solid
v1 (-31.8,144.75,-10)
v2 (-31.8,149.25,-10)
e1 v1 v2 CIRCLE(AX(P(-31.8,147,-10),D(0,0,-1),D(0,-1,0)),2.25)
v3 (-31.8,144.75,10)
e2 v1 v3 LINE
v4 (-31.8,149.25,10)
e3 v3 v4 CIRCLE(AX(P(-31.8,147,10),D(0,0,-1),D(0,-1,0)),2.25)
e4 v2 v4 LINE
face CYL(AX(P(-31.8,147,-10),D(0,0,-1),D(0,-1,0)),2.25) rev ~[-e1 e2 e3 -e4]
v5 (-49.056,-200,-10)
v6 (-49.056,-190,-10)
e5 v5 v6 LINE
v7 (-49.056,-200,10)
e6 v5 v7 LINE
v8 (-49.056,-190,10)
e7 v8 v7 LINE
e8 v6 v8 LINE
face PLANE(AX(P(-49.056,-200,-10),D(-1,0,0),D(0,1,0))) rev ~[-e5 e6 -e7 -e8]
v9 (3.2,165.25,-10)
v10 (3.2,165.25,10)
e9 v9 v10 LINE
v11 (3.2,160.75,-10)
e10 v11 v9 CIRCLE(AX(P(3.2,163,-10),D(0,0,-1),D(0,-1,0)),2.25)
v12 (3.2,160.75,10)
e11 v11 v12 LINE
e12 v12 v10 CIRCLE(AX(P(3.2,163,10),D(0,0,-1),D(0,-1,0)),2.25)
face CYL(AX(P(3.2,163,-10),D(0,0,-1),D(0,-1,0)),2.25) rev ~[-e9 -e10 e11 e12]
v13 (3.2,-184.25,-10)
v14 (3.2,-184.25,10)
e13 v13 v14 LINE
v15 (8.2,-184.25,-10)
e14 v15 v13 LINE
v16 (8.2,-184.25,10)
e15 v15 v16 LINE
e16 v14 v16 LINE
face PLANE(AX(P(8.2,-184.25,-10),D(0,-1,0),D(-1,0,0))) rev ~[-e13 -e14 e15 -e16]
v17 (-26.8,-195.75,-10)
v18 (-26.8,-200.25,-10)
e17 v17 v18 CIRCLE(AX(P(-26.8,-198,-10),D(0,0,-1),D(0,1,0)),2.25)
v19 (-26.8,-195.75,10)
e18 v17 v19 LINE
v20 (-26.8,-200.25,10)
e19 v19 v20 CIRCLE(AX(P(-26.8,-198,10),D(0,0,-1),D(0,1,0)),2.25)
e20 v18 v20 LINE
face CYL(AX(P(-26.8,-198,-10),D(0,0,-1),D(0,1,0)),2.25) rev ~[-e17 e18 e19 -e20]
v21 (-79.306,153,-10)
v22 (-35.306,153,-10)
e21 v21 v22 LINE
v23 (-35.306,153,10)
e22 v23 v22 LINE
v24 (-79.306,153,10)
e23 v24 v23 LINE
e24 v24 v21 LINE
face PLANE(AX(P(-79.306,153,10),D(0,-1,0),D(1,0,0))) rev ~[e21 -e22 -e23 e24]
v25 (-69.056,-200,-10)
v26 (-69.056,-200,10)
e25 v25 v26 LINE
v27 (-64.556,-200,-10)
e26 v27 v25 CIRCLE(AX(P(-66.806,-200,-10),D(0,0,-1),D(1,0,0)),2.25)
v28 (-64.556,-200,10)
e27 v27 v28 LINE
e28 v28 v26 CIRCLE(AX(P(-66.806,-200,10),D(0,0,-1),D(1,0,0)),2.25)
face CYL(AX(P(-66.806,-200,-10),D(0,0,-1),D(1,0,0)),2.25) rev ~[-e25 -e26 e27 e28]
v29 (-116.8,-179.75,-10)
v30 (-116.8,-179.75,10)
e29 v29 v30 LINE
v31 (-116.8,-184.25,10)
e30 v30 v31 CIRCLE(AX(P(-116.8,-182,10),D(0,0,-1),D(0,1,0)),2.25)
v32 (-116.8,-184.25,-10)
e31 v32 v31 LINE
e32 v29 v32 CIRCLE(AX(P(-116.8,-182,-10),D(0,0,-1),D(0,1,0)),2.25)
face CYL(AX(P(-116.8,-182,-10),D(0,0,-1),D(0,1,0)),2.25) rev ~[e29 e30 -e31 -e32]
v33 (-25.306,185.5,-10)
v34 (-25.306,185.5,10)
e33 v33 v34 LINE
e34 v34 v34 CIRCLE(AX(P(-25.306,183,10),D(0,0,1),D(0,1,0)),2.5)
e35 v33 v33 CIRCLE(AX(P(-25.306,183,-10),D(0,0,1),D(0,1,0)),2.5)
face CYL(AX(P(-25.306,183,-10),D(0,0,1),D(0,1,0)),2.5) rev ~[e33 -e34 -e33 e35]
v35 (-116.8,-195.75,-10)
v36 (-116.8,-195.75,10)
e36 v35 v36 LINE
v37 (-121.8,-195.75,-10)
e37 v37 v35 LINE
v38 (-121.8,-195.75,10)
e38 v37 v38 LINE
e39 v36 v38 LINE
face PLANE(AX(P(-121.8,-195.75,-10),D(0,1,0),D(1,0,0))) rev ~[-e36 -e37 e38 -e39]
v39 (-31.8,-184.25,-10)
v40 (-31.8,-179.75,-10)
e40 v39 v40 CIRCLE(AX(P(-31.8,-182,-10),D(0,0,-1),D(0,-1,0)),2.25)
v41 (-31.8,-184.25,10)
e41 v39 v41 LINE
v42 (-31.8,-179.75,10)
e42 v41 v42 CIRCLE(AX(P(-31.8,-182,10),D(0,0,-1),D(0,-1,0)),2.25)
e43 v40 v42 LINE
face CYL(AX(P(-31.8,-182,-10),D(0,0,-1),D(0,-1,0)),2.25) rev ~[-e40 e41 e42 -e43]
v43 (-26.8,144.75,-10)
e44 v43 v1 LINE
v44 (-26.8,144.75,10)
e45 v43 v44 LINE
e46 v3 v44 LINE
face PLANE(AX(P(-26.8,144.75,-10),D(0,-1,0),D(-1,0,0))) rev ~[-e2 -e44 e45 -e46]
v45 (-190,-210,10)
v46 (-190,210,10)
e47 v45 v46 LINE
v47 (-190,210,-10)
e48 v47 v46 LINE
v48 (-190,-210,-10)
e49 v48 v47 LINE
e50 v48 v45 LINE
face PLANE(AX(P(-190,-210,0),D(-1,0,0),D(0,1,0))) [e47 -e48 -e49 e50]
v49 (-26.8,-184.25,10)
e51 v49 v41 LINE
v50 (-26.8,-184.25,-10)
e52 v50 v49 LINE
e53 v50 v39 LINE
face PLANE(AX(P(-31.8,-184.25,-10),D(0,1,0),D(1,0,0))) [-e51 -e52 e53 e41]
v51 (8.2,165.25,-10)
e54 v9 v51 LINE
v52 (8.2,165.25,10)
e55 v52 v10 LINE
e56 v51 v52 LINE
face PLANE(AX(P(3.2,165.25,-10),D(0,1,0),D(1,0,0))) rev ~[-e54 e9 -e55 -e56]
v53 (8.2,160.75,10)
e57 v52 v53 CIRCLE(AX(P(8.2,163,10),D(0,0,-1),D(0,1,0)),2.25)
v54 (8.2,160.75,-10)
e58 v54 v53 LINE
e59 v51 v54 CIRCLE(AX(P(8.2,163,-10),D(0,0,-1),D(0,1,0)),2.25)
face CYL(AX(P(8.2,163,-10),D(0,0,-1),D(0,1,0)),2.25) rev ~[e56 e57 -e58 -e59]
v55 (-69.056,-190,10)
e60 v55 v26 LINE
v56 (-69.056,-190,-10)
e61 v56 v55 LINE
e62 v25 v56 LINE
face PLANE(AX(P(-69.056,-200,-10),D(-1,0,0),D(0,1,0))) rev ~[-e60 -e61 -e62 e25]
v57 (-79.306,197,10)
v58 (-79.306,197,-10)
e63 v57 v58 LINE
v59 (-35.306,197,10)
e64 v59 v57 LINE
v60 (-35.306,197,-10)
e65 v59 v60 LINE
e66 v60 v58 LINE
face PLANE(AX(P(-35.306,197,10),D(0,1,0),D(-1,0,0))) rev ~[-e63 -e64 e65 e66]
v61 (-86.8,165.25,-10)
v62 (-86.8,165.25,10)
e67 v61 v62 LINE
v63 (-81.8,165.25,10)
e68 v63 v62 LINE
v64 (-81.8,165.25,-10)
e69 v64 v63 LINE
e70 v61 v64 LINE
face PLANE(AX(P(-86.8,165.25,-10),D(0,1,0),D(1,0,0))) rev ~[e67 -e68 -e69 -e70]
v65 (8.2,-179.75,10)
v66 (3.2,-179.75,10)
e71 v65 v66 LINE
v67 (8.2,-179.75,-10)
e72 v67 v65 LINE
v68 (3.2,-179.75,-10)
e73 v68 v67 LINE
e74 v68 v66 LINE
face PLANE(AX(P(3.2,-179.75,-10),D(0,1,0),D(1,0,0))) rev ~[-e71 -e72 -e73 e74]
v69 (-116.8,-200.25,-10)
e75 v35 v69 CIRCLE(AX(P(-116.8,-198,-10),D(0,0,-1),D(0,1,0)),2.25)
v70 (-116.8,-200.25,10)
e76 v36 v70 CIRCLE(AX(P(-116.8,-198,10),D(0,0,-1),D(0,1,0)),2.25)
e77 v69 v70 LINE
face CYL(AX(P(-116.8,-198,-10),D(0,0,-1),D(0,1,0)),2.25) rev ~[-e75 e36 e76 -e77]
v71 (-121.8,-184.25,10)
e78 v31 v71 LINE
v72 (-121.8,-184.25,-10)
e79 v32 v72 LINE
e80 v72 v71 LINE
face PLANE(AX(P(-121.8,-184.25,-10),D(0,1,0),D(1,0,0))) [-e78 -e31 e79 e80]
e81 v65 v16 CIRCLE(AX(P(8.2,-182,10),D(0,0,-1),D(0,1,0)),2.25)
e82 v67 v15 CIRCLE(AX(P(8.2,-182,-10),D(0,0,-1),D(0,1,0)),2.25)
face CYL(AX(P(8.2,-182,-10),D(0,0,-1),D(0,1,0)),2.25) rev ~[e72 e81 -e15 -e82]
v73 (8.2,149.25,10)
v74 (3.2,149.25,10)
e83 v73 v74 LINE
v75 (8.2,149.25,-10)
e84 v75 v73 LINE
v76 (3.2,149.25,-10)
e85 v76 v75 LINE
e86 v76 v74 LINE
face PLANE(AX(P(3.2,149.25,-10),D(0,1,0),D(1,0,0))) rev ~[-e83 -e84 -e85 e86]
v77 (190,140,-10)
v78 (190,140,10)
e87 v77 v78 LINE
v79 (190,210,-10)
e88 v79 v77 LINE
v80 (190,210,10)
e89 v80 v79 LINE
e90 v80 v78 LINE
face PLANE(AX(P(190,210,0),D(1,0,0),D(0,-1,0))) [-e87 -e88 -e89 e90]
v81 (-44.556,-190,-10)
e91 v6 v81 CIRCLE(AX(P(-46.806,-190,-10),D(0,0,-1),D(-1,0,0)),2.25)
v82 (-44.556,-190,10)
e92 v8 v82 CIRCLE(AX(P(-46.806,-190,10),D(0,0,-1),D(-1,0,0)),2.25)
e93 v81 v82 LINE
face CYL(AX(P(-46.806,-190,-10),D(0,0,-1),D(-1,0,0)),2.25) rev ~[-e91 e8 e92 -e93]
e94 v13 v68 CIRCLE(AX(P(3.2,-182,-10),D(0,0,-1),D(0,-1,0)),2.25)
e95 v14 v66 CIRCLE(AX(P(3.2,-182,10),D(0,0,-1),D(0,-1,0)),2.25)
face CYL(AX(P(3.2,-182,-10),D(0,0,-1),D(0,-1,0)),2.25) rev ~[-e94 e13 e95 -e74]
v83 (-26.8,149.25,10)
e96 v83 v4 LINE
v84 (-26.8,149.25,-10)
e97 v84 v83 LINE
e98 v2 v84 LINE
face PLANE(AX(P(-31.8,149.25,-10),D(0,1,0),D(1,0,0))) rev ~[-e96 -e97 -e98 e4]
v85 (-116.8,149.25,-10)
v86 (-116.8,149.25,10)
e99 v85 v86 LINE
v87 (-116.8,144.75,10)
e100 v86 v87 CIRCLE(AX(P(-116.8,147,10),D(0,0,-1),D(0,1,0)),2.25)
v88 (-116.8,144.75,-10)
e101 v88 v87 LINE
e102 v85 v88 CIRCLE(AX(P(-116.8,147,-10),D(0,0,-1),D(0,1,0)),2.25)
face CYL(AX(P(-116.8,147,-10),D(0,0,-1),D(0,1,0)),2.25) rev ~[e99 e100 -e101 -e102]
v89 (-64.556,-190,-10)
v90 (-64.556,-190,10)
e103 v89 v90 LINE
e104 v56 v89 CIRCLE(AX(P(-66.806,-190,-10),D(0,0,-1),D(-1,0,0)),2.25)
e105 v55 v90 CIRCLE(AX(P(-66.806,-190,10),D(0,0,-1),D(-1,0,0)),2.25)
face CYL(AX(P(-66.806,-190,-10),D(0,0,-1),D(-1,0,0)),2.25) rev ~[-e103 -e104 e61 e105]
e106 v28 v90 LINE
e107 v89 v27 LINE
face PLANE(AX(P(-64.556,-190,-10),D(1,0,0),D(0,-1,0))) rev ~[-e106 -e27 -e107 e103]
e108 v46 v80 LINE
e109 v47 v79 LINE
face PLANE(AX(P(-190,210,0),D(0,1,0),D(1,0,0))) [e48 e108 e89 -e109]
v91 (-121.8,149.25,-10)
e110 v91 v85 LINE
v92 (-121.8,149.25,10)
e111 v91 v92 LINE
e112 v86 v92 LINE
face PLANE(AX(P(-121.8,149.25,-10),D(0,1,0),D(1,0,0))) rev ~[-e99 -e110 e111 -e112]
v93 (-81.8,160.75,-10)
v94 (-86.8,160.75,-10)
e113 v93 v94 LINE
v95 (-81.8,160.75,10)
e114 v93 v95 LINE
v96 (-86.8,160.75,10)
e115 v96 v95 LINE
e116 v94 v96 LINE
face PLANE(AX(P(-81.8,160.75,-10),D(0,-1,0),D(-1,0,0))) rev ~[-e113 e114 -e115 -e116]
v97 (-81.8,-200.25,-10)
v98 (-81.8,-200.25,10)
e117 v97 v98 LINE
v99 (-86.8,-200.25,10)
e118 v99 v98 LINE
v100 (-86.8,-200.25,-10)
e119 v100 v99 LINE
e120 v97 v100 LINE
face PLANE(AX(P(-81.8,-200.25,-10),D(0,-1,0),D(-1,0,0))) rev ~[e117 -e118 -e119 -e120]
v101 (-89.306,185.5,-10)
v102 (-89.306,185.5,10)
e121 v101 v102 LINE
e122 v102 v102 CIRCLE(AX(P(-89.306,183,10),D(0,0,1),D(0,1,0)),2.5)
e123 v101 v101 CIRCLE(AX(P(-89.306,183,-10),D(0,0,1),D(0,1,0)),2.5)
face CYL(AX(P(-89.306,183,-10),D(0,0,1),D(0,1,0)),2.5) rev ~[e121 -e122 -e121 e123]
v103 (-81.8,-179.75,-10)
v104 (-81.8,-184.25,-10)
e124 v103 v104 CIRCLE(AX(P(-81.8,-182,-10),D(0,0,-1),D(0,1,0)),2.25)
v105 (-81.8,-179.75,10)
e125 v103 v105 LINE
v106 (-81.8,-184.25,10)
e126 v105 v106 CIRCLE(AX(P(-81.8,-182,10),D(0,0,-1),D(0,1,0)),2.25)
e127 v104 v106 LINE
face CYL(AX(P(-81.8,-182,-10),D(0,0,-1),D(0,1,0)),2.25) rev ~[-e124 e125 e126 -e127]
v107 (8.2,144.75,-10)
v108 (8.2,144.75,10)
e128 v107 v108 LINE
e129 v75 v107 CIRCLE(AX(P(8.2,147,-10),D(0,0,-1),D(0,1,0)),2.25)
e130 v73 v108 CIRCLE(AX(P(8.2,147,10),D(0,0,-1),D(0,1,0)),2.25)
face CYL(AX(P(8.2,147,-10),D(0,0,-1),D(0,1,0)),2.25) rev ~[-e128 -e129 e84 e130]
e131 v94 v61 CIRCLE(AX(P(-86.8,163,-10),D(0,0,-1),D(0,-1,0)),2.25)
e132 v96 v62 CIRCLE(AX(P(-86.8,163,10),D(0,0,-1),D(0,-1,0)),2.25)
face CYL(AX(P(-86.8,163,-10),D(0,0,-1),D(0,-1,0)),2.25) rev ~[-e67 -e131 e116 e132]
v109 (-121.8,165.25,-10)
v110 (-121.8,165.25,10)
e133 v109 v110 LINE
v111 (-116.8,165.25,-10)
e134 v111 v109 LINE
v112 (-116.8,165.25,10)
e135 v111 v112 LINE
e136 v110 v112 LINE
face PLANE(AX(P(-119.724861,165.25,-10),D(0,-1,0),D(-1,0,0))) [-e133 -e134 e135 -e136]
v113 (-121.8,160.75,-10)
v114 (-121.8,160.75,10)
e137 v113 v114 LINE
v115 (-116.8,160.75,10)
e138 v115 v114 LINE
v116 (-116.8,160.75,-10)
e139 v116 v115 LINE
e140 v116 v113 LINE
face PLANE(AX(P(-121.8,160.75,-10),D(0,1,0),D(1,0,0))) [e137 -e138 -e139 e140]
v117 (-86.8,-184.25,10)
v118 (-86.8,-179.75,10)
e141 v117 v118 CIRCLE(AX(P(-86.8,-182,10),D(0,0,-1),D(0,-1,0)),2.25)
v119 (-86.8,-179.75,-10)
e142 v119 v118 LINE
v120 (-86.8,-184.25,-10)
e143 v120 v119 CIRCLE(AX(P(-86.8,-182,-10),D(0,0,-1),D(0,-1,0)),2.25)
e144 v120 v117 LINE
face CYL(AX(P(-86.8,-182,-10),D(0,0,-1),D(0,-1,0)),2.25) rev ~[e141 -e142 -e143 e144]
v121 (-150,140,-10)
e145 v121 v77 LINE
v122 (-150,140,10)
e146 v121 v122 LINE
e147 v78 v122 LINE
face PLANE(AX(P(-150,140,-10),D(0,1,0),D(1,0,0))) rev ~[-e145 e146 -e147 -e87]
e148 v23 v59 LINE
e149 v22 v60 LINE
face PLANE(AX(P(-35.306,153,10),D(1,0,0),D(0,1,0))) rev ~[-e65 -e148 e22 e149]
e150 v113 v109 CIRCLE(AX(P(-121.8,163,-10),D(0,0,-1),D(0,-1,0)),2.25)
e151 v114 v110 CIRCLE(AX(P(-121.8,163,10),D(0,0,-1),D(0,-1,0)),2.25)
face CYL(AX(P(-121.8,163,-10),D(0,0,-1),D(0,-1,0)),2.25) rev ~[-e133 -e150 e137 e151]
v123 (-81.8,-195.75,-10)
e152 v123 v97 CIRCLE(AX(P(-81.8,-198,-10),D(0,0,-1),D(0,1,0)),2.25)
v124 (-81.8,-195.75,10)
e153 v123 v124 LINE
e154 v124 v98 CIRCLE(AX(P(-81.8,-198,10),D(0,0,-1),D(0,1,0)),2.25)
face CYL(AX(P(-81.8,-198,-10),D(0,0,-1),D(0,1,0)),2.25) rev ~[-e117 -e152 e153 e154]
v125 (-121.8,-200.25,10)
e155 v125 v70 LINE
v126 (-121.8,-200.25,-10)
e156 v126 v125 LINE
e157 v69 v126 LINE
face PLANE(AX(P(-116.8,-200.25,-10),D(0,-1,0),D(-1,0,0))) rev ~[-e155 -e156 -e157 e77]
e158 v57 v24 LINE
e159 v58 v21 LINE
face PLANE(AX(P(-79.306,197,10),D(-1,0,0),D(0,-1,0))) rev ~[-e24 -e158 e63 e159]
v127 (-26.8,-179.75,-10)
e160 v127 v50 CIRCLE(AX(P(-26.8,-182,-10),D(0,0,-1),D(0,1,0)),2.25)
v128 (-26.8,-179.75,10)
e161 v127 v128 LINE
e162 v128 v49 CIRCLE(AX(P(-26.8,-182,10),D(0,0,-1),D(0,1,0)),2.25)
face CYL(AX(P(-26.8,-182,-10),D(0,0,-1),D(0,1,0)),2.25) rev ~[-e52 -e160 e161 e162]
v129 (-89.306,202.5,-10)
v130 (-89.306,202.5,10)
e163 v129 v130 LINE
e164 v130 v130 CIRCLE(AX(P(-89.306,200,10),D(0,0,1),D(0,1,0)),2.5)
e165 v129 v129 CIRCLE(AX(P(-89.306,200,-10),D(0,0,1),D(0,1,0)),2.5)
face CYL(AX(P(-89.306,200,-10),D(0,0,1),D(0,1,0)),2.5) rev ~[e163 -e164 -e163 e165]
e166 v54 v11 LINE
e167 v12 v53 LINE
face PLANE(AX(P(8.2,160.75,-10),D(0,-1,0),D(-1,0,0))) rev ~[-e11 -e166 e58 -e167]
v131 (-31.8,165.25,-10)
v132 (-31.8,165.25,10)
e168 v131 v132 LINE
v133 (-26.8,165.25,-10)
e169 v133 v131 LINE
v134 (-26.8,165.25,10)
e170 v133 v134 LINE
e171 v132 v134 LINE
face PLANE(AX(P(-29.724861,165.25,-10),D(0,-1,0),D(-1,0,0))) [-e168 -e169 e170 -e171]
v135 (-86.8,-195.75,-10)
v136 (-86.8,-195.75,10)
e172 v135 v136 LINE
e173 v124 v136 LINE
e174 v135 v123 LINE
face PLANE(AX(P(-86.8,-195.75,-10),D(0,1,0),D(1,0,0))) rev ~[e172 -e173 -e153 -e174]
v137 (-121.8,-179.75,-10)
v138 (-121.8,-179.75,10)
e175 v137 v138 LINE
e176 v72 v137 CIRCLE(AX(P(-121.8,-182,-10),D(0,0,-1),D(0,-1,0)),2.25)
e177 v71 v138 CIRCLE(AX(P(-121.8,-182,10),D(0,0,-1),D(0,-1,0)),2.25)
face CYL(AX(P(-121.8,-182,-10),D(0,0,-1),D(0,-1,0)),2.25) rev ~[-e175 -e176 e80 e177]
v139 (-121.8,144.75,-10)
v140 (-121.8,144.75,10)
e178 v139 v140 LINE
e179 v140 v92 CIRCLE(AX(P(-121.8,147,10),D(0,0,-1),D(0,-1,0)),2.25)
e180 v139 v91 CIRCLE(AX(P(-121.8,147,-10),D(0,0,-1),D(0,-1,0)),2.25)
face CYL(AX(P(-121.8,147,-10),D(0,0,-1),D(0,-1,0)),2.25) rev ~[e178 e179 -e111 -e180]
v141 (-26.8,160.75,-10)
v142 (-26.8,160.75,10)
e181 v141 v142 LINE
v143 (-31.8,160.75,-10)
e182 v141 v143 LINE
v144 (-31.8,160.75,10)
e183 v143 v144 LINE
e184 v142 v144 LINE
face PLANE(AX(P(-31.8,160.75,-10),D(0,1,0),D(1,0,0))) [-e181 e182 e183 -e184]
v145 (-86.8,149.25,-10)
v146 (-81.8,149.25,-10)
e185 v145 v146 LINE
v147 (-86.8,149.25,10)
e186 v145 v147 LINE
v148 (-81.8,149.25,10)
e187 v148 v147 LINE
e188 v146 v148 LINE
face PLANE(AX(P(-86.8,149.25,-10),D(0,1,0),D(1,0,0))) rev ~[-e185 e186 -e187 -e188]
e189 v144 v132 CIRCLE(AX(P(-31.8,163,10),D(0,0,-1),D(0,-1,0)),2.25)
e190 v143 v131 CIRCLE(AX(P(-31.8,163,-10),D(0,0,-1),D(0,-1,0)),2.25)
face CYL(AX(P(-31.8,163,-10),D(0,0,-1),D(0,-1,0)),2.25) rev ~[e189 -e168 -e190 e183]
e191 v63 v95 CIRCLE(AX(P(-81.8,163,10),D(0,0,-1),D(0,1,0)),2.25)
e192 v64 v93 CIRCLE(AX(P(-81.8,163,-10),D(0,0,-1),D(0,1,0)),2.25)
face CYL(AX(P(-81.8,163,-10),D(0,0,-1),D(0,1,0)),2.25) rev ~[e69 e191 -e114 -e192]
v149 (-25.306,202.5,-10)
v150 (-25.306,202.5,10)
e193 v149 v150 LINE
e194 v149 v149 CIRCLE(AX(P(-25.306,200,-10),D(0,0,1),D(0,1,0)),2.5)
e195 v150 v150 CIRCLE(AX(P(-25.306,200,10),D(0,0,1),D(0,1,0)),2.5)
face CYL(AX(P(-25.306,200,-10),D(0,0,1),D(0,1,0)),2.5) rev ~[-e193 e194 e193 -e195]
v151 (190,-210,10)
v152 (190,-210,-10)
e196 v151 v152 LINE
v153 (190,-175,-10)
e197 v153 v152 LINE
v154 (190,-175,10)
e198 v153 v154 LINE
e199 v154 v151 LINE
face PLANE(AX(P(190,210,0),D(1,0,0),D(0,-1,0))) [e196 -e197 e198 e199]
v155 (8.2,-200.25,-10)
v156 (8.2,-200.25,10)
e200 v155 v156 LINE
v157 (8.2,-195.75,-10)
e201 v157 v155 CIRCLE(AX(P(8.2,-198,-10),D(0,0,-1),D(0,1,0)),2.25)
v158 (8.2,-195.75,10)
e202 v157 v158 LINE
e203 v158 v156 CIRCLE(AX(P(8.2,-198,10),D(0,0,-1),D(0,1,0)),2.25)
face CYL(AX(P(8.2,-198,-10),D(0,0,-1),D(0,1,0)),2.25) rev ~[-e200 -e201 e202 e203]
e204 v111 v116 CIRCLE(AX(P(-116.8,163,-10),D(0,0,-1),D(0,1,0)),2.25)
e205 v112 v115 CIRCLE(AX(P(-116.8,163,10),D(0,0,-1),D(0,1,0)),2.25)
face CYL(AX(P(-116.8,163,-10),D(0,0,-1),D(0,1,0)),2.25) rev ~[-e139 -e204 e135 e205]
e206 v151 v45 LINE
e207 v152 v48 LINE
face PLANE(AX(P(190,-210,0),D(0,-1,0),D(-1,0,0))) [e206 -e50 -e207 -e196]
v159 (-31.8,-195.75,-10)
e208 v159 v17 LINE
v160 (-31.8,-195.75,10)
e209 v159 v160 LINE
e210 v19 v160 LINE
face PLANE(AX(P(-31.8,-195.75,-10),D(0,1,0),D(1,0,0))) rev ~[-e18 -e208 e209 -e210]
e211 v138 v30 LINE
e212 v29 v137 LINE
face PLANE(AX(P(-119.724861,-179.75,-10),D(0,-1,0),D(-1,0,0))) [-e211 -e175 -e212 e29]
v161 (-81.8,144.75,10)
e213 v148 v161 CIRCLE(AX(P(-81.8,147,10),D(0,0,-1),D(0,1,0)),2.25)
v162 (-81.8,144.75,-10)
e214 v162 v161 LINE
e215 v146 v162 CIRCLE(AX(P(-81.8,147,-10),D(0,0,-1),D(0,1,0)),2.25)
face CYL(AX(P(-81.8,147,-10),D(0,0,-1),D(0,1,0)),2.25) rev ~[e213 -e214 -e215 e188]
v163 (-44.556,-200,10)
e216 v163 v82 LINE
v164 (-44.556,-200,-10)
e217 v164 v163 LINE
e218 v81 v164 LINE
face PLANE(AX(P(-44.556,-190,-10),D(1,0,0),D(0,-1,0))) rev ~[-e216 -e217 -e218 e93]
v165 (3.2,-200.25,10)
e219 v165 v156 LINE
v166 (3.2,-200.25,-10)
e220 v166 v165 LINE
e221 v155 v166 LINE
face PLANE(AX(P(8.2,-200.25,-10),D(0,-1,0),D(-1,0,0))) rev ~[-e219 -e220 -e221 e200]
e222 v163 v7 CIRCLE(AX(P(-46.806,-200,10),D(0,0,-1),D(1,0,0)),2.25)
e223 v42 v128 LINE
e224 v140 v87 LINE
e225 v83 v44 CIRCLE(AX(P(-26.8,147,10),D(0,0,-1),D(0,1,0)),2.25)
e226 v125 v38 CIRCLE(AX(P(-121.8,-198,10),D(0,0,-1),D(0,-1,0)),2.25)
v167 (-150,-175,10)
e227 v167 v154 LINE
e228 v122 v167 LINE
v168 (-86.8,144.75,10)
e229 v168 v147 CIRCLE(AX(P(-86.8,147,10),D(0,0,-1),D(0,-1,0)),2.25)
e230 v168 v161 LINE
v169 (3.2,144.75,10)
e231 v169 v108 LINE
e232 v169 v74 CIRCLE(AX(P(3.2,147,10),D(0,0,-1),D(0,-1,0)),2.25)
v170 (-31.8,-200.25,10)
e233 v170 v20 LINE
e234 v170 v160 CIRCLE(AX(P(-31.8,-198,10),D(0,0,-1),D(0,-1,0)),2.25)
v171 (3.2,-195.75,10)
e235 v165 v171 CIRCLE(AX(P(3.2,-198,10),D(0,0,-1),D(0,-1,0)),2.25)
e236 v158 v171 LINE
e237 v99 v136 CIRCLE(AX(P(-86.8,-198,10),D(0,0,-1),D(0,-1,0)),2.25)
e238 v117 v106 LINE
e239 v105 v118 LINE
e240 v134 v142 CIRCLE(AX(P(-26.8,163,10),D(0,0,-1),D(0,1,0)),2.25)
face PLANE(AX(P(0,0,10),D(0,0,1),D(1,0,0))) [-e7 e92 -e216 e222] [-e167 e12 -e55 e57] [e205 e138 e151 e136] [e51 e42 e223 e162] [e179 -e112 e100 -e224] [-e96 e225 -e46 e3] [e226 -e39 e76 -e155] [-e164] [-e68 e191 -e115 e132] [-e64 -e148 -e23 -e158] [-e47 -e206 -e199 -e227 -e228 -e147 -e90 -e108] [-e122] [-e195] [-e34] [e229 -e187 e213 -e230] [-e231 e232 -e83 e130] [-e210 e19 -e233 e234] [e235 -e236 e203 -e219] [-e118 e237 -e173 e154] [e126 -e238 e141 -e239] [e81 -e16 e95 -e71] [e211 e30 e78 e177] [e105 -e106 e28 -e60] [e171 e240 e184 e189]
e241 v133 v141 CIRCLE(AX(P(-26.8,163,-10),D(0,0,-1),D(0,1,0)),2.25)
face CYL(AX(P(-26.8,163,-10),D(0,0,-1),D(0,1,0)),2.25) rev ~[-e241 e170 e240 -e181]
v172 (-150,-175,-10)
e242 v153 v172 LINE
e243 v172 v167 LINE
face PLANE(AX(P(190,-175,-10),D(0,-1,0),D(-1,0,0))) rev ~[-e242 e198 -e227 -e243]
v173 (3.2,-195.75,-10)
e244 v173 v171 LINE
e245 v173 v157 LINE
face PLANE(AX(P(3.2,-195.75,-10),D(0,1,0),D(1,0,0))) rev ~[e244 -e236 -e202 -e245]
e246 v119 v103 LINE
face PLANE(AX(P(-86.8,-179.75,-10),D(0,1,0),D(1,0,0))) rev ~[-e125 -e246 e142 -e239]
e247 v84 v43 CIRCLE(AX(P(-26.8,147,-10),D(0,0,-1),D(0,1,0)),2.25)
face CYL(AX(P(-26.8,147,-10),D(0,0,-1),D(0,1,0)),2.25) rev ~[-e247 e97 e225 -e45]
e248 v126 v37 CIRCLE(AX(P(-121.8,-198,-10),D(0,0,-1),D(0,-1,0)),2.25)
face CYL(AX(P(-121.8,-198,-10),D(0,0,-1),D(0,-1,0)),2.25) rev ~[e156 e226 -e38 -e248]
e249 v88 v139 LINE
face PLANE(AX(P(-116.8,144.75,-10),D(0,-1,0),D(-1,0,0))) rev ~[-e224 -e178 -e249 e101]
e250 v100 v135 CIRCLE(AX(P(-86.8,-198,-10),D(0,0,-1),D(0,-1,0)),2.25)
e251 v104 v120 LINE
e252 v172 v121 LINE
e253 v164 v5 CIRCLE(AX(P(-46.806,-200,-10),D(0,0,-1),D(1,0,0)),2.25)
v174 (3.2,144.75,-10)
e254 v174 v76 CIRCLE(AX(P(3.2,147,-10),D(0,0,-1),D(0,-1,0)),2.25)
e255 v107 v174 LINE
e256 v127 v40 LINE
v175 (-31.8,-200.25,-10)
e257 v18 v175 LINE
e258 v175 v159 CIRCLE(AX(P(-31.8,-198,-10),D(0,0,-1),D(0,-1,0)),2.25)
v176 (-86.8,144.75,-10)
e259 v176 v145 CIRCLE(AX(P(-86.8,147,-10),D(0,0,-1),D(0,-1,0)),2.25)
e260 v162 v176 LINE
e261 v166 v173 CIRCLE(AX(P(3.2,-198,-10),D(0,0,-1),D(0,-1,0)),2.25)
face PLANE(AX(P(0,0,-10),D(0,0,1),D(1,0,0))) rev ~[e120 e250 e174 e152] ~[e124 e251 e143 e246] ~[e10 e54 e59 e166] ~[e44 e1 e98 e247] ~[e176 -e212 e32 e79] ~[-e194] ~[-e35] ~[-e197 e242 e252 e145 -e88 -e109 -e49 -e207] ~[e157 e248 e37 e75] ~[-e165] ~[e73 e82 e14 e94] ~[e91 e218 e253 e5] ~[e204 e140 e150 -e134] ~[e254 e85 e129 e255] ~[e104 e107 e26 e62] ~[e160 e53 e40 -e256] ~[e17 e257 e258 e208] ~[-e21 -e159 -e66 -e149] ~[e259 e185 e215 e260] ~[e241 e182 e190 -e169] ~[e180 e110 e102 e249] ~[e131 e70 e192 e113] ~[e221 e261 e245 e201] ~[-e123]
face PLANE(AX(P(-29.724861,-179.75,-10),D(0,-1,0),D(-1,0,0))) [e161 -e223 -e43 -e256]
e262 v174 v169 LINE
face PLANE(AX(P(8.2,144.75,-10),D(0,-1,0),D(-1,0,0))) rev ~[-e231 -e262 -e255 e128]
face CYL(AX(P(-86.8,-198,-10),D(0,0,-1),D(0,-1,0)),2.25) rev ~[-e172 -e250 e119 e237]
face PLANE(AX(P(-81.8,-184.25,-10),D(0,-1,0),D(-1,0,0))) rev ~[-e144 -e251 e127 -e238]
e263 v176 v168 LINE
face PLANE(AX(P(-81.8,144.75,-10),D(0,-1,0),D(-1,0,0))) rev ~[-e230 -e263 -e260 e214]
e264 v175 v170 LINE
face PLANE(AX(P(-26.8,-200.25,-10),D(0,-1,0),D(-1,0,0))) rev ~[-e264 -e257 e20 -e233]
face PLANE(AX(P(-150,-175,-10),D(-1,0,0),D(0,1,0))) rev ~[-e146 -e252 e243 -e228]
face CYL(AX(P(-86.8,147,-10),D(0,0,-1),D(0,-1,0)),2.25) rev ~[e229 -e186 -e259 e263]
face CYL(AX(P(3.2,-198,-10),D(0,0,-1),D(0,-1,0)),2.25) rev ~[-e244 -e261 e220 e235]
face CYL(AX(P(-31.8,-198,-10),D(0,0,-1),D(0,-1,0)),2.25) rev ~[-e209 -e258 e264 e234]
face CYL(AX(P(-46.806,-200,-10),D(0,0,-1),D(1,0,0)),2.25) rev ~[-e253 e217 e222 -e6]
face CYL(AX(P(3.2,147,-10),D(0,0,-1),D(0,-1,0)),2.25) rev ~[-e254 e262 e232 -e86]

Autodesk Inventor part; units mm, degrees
ref_plane "YZ Plane" through (0, 0, 0) normal (1, 0, 0) x (0, 1, 0)
ref_plane "XZ Plane" through (0, 0, 0) normal (0, 1, 0) x (-1, 0, 0)
ref_plane "XY Plane" through (0, 0, 0) normal (0, 0, 1) x (1, 0, 0)
sketch "Sketch1" plane through (0, 0, 0) normal (0, 0, 1) x (1, 0, 0)
  line L0 (-190, 210) -> (190, 210)
  line L1 (190, 210) -> (190, -210)
  line L2 (190, -210) -> (-190, -210)
  line L3 (-190, -210) -> (-190, 210)
  point P0 (0, 0)
  point P1 (0, 210)
  point P2 (-190, 0)
  dimension "d0" = 380
  dimension "d1" = 420
extrude "Extrusion1" add sketch "Sketch1" along normal mid plane 20
sketch "Sketch5" plane through (0, 0, -10) normal (0, 0, -1) x (-1, 0, 0)
  line L0 (150, 140) -> (-190, 140)
  line L1 (-190, 140) -> (-190, -175)
  line L2 (-190, -175) -> (150, -175)
  line L3 (150, -175) -> (150, 140)
  line L4 (190, 210) -> (-190, 210) projected
  line L5 (-190, -210) -> (190, -210) projected
  line L6 (190, -210) -> (190, 210) projected
  point P0 (0, 0)
  dimension "d24" = 70
  dimension "d25" = 35
  dimension "d26" = 40
extrude "Extrusion5" cut sketch "Sketch5" against normal through all
sketch "Sketch6" plane through (0, 0, -10) normal (0, 0, -1) x (-1, 0, 0)
  line L0 (66.806, -190) -> (66.806, -200) construction
  line L1 (64.556, -190) -> (64.556, -200)
  line L2 (69.056, -200) -> (69.056, -190)
  arc A0 (69.056, -190) -> (64.556, -190) centre (66.806, -190) ccw
  arc A1 (64.556, -200) -> (69.056, -200) centre (66.806, -200) ccw
  line L3 (-190, -210) -> (190, -210) projected
  line L4 (190, -210) -> (190, 210) projected
  line L5 (46.806, -190) -> (46.806, -200) construction
  line L6 (44.556, -190) -> (44.556, -200)
  line L7 (49.056, -200) -> (49.056, -190)
  arc A2 (49.056, -190) -> (44.556, -190) centre (46.806, -190) ccw
  arc A3 (44.556, -200) -> (49.056, -200) centre (46.806, -200) ccw
  point P0 (0, 0)
  point P1 (66.806, -195)
  point P2 (46.806, -195)
  dimension "d30" = 15
  dimension "d32" = 123.194
  dimension "d33" = 4.5
  dimension "d34" = 10
  dimension "d36" = 20
extrude "Extrusion6" cut sketch "Sketch6" against normal through all
sketch "Sketch8" plane through (0, 0, 10) normal (0, 0, 1) x (1, 0, 0)
  circle A0 centre (-57.306, 175) radius 2
  line L0 (-79.306, 153) -> (-35.306, 153)
  line L1 (-35.306, 153) -> (-35.306, 197)
  line L2 (-35.306, 197) -> (-79.306, 197)
  line L3 (-79.306, 197) -> (-79.306, 153)
  line L4 (-79.306, 153) -> (-35.306, 197) construction
  line L5 (-35.306, 153) -> (-79.306, 197) construction
  line L6 (190, 140) -> (190, 210) projected
  line L7 (-190, 210) -> (-190, -210) projected
  point P0 (0, 0)
  point P1 (-57.306, 175)
  point P2 (190, 175)
  dimension "d45" = 44
  dimension "d67" = 132.694
extrude "Extrusion8" cut sketch "Sketch8" against normal through all contours A0 | L3 L2 L1 L0
sketch "Sketch9" plane through (0, 0, -10) normal (0, 0, -1) x (-1, 0, 0)
  line L0 (84.3, 163) -> (84.3, 147) construction
  line L1 (84.3, 147) -> (119.3, 147) construction
  line L2 (119.3, 147) -> (119.3, 163) construction
  line L3 (119.3, 163) -> (84.3, 163) construction
  line L4 (81.8, 163) -> (86.8, 163) construction
  line L5 (81.8, 160.75) -> (86.8, 160.75)
  line L6 (86.8, 165.25) -> (81.8, 165.25)
  arc A0 (81.8, 165.25) -> (81.8, 160.75) centre (81.8, 163) ccw
  arc A1 (86.8, 160.75) -> (86.8, 165.25) centre (86.8, 163) ccw
  line L7 (116.8, 163) -> (121.8, 163) construction
  line L8 (121.8, 147) -> (116.8, 147) construction
  line L9 (121.8, 149.25) -> (116.8, 149.25)
  line L10 (116.8, 144.75) -> (121.8, 144.75)
  arc A2 (121.8, 144.75) -> (121.8, 149.25) centre (121.8, 147) ccw
  arc A3 (116.8, 149.25) -> (116.8, 144.75) centre (116.8, 147) ccw
  line L11 (81.8, 147) -> (86.8, 147) construction
  line L12 (81.8, 144.75) -> (86.8, 144.75)
  line L13 (86.8, 149.25) -> (81.8, 149.25)
  arc A4 (81.8, 149.25) -> (81.8, 144.75) centre (81.8, 147) ccw
  arc A5 (86.8, 144.75) -> (86.8, 149.25) centre (86.8, 147) ccw
  circle A6 centre (121.306, 163) radius 2.75 projected
  line L14 (190, -210) -> (190, 210) projected
  line L15 (190, 210) -> (-190, 210) projected
  line L16 (116.8, 163) -> (121.8, 163) construction
  line L17 (116.8, 165.25) -> (121.8, 165.25)
  line L18 (121.8, 160.75) -> (116.8, 160.75)
  arc A7 (116.8, 165.25) -> (116.8, 160.75) centre (116.8, 163) ccw
  arc A8 (121.8, 160.75) -> (121.8, 165.25) centre (121.8, 163) ccw
  line L19 (-190, 210) -> (190, 210) projected
  line L20 (-190, 140) -> (150, 140) projected
  point P0 (0, 0)
  dimension "d50" = 35
  dimension "d51" = 16
  dimension "d52" = 5
  dimension "d53" = 4.5
  dimension "d54" = 68.694
  dimension "d55" = 47
  dimension "d56" = 70.7
  dimension "d68" = 7
extrude "Extrusion9" cut sketch "Sketch9" against normal through all contours A0 L6 A1 L5 | A2 L10 A3 L9 | A4 L13 A5 L12 | L17 A8 L18 A6 | A6 L18 A7 L17 picked at (120.7187, 163)
pattern_linear "Rectangular Pattern1" count 2 spacing 90 along (1, 0, 0) count 2 spacing 345 along (0, -1, 0) of "Extrusion9"
sketch "Sketch10" plane through (0, 0, -10) normal (0, 0, -1) x (-1, 0, 0)
  line L0 (89.306, 200) -> (25.306, 200) construction
  line L1 (25.306, 200) -> (25.306, 183) construction
  line L2 (25.306, 183) -> (89.306, 183) construction
  line L3 (89.306, 183) -> (89.306, 200) construction
  line L4 (35.306, 197) -> (79.306, 197) construction
  line L5 (190, 210) -> (-190, 210) construction
  point P0 (0, 0)
  point P1 (57.306, 200)
  point P2 (57.306, 197)
  dimension "d69" = 64
  dimension "d70" = 10
  dimension "d71" = 17
hole "Hole1" at (-89.306, 183, -10) at (-89.306, 200, -10) at (-25.306, 200, -10) at (-25.306, 183, -10) direction (0, 0, 1) diameter 5 end through all
properties part number "0005-10-017 Batiu 2" material "Wood (Maple)"
